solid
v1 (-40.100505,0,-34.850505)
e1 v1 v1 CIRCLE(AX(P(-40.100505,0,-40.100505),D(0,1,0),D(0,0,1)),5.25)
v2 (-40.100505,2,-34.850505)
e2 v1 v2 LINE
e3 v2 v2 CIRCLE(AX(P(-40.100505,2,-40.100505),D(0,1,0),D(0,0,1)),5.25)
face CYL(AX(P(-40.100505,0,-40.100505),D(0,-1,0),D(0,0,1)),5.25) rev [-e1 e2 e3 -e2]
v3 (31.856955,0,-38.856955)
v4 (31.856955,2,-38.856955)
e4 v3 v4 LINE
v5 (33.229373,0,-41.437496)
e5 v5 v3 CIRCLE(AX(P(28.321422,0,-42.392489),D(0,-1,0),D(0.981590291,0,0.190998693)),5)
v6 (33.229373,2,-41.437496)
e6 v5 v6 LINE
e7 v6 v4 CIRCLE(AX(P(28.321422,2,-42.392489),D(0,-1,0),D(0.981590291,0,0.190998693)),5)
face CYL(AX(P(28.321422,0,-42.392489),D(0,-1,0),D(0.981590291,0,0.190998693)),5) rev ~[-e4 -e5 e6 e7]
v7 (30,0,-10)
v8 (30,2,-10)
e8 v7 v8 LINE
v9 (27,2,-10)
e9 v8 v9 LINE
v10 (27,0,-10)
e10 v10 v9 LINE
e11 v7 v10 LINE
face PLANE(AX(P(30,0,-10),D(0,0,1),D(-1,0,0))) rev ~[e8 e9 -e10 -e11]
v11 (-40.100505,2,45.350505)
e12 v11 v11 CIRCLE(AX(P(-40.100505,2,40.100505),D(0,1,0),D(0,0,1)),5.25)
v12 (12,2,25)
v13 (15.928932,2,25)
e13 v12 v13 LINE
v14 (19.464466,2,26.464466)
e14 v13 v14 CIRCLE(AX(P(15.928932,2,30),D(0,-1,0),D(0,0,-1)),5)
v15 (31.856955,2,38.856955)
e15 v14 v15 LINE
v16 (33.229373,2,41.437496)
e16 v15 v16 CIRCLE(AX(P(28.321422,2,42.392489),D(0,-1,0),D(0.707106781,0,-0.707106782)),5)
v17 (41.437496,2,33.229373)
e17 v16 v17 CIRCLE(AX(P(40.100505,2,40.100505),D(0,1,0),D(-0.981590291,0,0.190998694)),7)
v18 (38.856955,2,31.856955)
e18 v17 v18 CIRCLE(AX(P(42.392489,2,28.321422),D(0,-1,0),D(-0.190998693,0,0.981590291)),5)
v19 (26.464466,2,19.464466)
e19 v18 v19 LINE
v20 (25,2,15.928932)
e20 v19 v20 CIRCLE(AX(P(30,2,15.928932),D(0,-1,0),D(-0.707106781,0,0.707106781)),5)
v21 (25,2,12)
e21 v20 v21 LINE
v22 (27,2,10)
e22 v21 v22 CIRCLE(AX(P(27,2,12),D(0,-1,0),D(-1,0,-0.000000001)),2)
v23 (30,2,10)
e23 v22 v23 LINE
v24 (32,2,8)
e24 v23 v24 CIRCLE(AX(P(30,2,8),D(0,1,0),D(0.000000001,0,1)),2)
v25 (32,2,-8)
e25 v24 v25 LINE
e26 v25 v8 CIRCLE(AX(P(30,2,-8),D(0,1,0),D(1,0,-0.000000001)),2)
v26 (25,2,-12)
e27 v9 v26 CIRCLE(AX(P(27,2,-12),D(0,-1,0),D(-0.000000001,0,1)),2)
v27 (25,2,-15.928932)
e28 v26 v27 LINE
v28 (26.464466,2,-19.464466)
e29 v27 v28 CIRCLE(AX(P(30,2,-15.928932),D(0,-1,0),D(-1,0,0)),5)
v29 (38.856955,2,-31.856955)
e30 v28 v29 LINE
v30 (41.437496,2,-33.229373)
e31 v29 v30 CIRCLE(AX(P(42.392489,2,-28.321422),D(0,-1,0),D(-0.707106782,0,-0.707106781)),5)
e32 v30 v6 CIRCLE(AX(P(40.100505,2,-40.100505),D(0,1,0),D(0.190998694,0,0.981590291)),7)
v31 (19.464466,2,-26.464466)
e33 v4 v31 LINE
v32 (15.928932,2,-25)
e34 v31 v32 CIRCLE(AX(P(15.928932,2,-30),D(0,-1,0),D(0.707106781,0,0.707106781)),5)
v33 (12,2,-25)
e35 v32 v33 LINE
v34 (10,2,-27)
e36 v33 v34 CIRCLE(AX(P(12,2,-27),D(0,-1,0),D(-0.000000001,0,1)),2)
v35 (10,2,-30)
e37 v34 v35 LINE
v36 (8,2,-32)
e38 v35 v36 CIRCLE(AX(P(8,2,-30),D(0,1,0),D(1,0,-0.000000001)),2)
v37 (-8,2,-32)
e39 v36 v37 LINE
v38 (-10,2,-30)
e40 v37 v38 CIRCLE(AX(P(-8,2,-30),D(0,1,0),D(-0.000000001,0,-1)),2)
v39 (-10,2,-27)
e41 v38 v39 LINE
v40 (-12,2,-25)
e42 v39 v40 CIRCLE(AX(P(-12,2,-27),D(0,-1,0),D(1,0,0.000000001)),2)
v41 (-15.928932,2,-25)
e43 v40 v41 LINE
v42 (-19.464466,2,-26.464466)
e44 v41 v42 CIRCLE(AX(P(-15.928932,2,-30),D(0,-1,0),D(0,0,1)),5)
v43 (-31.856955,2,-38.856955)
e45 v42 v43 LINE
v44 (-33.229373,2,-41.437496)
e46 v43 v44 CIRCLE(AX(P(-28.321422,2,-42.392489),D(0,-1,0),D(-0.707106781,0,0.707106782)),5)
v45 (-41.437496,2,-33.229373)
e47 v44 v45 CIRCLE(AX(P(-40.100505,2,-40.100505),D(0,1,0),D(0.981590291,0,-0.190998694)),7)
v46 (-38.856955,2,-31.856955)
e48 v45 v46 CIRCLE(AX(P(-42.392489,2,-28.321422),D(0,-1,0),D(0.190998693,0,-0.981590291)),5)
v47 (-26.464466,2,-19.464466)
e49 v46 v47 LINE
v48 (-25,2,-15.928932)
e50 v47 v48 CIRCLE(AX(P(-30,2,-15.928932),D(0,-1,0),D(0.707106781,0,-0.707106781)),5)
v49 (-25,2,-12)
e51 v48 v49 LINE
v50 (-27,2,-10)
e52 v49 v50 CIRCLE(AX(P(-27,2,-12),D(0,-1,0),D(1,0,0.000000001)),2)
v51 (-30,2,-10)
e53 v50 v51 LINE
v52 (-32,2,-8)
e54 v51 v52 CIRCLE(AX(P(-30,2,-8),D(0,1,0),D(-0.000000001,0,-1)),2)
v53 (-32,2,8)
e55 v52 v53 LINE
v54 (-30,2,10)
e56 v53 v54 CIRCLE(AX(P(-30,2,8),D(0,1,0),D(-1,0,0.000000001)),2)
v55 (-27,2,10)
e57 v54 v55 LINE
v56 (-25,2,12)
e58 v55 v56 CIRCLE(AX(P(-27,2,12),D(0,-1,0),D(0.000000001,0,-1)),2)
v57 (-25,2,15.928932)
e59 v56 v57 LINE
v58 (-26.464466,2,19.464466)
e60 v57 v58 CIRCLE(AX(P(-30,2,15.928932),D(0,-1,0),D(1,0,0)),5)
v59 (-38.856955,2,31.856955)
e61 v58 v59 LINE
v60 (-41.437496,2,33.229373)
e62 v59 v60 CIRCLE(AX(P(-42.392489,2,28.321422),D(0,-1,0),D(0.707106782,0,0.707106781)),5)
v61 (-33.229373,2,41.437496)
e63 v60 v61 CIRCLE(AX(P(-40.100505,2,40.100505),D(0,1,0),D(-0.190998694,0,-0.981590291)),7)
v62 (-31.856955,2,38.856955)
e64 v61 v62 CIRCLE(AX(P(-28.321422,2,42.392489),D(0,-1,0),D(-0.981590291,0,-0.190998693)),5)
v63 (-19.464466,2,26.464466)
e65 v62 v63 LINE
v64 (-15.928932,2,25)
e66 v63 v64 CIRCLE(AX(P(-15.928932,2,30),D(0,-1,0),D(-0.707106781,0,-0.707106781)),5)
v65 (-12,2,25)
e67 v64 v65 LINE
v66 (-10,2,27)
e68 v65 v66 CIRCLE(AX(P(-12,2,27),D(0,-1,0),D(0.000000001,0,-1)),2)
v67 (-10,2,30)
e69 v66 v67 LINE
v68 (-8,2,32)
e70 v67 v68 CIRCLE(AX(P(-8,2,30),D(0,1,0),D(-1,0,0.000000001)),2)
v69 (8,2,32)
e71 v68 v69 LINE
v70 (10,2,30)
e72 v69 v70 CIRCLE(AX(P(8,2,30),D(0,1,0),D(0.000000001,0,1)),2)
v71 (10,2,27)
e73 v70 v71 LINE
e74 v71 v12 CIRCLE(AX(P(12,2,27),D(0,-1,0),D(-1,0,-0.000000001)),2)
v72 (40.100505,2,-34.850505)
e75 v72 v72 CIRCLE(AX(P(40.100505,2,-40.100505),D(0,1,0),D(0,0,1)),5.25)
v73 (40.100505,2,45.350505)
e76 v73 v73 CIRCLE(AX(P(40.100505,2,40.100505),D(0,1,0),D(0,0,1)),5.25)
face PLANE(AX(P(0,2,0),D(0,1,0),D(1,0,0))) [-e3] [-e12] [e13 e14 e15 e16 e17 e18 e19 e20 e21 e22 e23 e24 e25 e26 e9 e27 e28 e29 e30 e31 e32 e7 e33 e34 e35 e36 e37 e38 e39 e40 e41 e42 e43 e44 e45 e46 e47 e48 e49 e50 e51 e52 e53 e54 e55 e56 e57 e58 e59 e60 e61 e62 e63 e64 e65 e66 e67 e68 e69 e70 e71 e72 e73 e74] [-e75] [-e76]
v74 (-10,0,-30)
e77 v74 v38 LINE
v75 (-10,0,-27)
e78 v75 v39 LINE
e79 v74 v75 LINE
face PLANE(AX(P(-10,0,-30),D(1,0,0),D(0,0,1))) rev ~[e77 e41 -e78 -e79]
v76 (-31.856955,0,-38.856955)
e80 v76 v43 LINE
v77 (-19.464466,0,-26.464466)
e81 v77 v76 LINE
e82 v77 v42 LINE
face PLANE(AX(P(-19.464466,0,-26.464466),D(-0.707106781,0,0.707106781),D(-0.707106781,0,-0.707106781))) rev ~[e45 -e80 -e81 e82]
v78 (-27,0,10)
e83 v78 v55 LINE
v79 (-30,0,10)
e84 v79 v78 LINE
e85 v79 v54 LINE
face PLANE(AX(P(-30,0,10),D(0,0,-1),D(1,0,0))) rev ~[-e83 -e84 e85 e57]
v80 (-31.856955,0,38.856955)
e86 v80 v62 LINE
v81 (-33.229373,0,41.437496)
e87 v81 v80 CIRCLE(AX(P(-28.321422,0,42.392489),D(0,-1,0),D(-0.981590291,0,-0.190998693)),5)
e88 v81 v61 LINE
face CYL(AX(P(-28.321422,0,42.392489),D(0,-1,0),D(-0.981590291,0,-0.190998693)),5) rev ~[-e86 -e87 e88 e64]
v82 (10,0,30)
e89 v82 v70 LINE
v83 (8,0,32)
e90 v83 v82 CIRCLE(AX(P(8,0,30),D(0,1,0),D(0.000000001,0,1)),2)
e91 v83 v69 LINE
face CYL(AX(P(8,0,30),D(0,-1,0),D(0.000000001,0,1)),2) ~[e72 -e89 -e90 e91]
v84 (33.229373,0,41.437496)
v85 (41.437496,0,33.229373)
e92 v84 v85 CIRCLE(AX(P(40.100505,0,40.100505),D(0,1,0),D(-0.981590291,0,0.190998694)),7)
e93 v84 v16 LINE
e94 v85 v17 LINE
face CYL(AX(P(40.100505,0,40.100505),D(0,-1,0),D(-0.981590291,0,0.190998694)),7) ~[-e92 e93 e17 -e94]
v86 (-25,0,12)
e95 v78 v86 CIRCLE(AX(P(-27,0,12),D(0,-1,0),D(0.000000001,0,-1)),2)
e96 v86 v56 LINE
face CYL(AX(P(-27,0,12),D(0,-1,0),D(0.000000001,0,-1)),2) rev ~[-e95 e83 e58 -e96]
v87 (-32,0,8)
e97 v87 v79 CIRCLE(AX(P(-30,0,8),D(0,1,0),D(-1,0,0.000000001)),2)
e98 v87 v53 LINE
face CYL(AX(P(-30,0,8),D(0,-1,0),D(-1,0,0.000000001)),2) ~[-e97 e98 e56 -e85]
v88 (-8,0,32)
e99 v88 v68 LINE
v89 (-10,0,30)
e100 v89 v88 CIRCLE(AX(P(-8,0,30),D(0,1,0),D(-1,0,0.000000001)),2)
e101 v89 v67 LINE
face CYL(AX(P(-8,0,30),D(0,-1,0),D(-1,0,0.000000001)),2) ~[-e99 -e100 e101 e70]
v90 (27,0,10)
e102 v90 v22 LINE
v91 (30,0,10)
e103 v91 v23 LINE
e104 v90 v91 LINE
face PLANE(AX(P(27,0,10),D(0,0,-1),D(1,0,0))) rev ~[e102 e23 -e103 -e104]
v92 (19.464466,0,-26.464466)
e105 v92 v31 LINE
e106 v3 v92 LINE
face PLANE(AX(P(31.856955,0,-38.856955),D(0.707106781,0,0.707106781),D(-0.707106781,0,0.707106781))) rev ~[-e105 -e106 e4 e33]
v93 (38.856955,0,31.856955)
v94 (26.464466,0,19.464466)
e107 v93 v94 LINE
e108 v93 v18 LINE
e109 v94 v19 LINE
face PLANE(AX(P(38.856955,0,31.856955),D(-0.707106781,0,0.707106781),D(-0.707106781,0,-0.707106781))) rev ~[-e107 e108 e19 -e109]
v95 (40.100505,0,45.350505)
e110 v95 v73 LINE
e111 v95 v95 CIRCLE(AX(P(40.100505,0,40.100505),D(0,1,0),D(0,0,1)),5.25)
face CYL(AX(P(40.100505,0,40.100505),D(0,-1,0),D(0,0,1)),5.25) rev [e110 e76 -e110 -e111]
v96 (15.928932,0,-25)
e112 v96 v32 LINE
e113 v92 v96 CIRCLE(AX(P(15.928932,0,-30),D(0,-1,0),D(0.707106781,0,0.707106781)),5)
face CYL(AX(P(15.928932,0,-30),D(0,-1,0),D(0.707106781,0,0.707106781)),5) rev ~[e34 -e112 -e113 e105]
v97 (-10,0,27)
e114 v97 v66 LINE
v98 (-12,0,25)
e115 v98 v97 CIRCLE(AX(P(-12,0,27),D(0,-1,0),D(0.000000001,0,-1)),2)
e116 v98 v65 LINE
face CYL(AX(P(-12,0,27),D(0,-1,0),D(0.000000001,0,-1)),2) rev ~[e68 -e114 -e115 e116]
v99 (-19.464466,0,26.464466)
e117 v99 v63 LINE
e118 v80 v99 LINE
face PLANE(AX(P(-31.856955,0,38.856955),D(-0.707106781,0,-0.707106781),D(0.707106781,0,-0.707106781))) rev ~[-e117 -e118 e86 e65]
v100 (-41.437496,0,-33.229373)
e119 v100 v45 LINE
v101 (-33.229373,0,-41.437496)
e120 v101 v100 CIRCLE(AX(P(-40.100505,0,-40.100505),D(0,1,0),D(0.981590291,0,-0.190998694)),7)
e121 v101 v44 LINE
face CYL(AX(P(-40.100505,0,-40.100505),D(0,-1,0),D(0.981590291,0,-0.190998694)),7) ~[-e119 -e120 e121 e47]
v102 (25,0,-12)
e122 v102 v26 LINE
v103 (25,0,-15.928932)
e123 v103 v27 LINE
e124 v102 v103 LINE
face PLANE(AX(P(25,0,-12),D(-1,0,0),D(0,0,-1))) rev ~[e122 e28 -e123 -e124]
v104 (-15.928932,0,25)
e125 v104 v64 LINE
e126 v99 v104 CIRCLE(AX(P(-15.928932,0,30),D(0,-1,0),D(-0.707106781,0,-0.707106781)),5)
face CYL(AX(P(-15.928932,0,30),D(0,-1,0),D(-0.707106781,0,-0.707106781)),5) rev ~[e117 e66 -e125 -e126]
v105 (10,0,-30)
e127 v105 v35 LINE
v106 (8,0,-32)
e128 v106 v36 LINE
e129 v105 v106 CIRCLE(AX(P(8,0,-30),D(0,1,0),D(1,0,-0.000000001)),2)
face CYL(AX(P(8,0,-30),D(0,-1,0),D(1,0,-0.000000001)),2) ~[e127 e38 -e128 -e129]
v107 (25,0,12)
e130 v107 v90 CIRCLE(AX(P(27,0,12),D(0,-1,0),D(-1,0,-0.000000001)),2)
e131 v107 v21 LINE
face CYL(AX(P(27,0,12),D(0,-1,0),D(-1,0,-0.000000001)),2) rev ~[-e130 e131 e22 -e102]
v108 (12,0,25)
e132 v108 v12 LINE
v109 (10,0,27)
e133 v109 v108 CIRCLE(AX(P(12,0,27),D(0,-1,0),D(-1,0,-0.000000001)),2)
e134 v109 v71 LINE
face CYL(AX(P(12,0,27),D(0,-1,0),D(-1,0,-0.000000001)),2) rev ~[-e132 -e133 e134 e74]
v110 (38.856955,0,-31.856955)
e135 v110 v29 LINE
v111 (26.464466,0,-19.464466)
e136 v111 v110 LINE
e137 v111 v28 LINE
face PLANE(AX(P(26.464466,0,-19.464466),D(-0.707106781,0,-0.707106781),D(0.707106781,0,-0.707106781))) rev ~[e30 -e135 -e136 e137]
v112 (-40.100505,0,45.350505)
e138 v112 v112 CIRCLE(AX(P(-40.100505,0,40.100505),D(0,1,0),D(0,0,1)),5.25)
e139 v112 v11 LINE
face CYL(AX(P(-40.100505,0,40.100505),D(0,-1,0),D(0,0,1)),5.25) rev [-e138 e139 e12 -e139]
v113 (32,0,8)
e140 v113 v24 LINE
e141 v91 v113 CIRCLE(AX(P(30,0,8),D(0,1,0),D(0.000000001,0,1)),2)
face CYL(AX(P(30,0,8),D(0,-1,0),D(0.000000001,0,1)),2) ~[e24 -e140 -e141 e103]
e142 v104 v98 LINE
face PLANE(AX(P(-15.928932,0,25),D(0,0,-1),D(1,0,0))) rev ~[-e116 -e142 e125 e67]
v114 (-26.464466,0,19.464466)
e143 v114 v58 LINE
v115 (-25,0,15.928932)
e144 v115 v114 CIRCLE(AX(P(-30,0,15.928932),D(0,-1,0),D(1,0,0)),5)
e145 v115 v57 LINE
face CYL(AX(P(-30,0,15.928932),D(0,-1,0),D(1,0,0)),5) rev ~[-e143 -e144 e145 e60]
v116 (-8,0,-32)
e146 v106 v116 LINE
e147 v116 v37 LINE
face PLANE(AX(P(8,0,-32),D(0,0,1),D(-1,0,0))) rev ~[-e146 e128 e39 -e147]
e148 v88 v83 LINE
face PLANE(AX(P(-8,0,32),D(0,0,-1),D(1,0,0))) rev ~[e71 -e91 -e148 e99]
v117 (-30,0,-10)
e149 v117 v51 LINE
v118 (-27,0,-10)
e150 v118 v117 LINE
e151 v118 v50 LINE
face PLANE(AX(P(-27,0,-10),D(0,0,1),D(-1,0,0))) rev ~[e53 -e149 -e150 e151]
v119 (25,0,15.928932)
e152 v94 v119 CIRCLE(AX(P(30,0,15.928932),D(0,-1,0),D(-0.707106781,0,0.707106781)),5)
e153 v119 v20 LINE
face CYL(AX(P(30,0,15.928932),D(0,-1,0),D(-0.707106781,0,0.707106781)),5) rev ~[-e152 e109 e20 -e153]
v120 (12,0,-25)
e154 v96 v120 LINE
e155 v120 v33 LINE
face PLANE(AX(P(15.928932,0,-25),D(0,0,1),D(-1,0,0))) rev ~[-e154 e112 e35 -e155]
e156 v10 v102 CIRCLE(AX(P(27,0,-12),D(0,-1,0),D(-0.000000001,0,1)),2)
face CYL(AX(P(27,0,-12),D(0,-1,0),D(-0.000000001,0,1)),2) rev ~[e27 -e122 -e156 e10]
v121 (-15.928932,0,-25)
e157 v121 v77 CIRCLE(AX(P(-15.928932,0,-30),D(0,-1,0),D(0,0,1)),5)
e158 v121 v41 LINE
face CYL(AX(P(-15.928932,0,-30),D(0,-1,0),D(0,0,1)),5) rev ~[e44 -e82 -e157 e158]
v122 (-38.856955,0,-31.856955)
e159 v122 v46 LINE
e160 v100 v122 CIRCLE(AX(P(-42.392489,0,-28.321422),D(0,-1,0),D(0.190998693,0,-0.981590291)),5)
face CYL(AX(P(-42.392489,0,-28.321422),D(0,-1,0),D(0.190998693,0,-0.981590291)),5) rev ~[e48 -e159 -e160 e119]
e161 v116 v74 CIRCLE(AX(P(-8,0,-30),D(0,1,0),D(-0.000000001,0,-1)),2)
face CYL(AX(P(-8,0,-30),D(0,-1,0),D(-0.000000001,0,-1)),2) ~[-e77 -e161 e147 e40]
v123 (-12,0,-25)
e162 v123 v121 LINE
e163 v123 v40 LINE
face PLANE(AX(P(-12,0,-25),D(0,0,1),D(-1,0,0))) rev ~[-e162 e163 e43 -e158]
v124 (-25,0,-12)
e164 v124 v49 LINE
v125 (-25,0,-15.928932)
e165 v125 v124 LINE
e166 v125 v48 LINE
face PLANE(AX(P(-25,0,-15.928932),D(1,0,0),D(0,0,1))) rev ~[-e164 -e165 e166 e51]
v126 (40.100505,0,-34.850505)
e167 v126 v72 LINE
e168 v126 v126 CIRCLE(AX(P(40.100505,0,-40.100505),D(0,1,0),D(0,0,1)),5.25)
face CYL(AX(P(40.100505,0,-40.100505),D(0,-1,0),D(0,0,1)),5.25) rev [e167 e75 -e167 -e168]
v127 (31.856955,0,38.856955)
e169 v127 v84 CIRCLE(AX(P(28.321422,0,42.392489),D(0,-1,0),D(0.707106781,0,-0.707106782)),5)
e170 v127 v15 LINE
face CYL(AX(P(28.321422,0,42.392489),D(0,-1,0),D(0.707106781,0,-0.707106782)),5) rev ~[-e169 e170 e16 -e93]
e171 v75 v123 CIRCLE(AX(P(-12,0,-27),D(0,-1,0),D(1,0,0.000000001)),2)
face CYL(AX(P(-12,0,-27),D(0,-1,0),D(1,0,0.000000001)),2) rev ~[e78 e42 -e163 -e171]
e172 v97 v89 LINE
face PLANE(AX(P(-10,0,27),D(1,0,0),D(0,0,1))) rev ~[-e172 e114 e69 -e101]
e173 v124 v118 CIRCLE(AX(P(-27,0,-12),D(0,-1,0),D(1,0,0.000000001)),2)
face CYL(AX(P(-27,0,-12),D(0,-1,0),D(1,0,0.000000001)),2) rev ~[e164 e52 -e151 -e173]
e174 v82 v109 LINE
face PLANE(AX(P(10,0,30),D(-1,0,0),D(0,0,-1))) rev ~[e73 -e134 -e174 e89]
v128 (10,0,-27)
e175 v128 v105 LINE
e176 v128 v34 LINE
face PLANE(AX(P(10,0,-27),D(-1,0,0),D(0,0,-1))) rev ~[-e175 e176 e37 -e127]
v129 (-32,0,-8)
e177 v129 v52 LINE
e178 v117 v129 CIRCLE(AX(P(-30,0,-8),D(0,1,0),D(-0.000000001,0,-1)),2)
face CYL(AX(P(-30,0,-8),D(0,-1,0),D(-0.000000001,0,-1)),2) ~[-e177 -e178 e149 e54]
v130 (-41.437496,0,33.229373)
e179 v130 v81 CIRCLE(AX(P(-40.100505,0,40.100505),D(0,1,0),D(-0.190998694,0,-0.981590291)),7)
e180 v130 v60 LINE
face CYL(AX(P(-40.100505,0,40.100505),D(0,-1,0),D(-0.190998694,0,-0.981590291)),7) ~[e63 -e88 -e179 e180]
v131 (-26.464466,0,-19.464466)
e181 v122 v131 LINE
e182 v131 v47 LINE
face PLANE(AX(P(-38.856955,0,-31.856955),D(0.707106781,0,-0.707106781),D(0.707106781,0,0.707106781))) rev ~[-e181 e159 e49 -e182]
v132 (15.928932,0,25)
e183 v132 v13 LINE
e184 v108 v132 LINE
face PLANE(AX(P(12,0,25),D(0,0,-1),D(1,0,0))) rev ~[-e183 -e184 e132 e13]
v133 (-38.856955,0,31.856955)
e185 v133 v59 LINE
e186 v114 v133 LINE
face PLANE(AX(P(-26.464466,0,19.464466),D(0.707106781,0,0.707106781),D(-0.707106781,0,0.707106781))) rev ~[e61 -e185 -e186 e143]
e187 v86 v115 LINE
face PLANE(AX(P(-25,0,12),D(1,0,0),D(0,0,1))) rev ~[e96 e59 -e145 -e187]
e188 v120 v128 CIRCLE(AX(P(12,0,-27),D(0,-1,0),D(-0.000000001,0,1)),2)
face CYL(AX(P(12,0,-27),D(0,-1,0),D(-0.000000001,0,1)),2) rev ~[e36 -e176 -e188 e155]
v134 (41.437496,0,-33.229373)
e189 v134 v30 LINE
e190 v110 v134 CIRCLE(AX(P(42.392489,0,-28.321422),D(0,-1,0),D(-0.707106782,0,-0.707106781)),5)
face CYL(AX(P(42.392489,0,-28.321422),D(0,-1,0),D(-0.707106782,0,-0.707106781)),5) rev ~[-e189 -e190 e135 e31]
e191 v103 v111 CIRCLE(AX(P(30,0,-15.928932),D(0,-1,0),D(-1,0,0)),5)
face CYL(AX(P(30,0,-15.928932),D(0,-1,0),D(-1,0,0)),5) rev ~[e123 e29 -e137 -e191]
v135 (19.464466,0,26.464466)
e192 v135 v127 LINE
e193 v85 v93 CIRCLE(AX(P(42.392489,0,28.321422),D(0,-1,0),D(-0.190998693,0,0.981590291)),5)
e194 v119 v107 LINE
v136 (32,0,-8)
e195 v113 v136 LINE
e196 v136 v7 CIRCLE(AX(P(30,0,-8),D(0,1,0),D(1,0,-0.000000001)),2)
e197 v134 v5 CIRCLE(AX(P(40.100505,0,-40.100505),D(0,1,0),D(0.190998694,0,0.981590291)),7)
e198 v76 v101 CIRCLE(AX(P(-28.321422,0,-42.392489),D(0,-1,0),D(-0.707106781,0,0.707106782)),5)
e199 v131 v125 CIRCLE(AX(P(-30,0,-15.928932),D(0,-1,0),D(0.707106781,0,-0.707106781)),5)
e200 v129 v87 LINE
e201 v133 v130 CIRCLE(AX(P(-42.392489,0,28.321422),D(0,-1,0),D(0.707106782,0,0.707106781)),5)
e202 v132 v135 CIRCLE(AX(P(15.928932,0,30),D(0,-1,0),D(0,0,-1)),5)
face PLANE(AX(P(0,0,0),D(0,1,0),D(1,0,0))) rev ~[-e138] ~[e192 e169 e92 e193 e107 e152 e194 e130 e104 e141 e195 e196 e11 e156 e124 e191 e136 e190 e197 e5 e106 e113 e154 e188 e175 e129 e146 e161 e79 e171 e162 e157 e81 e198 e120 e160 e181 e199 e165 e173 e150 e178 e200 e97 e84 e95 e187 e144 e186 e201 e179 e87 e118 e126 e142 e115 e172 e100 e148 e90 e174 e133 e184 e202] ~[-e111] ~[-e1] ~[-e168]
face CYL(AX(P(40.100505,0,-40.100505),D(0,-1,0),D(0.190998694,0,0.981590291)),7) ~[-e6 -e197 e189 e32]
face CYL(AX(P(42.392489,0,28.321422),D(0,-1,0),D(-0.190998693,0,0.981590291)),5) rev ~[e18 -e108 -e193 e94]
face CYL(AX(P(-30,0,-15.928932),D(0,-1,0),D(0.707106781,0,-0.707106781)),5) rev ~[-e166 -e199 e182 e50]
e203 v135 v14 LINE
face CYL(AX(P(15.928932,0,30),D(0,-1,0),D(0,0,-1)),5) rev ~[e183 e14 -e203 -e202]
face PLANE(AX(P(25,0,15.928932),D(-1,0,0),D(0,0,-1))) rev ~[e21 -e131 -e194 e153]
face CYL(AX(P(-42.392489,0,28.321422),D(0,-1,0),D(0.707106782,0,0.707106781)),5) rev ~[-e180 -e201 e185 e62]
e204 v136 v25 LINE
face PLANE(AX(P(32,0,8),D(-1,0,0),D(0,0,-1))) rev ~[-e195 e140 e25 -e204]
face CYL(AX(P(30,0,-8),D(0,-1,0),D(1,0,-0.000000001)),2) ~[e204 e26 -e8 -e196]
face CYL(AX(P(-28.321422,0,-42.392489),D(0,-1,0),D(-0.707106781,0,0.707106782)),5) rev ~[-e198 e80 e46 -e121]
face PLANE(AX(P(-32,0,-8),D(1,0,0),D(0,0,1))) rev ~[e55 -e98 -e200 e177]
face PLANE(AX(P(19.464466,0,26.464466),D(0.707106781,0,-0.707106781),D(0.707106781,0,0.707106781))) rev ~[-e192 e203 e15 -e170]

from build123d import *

# Parameters (mm, degrees)
SKETCH_1_R      = 5.25
EXTRUDE_1_DEPTH = 2


with BuildPart() as part:
    # 草图1 → 凸台-拉伸1 (new body)
    with BuildSketch(Plane(origin=(0, 0, 0), x_dir=(1, 0, 0), z_dir=(0, 1, 0))):
        with BuildLine():
            Line((-15.928932188, -25), (-12, -25))
            ThreePointArc((-12, -25), (-10.585786438, -25.585786438), (-10, -27))
            Line((-10, -27), (-10, -30))
            ThreePointArc((-10, -30), (-9.414213562, -31.414213562), (-8, -32))
            Line((-8, -32), (8, -32))
            ThreePointArc((8, -32), (9.414213562, -31.414213562), (10, -30))
            Line((10, -30), (10, -27))
            ThreePointArc((10, -27), (10.585786438, -25.585786438), (12, -25))
            Line((12, -25), (15.928932188, -25))
            ThreePointArc((15.928932188, -25), (17.84234935, -25.380602337), (19.464466094, -26.464466094))
            Line((19.464466094, -26.464466094), (31.856955479, -38.856955479))
            ThreePointArc((31.856955479, -38.856955479), (32.735932701, -40.044705003), (33.229373027, -41.437495918))
            ThreePointArc((33.229373027, -41.437495918), (45.050252532, -45.050252532), (41.437495918, -33.229373027))
            ThreePointArc((41.437495918, -33.229373027), (40.044705003, -32.735932701), (38.856955479, -31.856955479))
            Line((38.856955479, -31.856955479), (26.464466094, -19.464466094))
            ThreePointArc((26.464466094, -19.464466094), (25.380602337, -17.84234935), (25, -15.928932188))
            Line((25, -15.928932188), (25, -12))
            ThreePointArc((25, -12), (25.585786438, -10.585786438), (27, -10))
            Line((27, -10), (30, -10))
            ThreePointArc((30, -10), (31.414213562, -9.414213562), (32, -8))
            Line((32, -8), (32, 8))
            ThreePointArc((32, 8), (31.414213562, 9.414213562), (30, 10))
            Line((30, 10), (27, 10))
            ThreePointArc((27, 10), (25.585786438, 10.585786438), (25, 12))
            Line((25, 12), (25, 15.928932188))
            ThreePointArc((25, 15.928932188), (25.380602337, 17.84234935), (26.464466094, 19.464466094))
            Line((26.464466094, 19.464466094), (38.856955479, 31.856955479))
            ThreePointArc((38.856955479, 31.856955479), (40.044705003, 32.735932701), (41.437495918, 33.229373027))
            ThreePointArc((41.437495918, 33.229373027), (45.050252532, 45.050252532), (33.229373027, 41.437495918))
            ThreePointArc((33.229373027, 41.437495918), (32.735932701, 40.044705003), (31.856955479, 38.856955479))
            Line((31.856955479, 38.856955479), (19.464466094, 26.464466094))
            ThreePointArc((19.464466094, 26.464466094), (17.84234935, 25.380602337), (15.928932188, 25))
            Line((15.928932188, 25), (12, 25))
            ThreePointArc((12, 25), (10.585786438, 25.585786438), (10, 27))
            Line((10, 27), (10, 30))
            ThreePointArc((10, 30), (9.414213562, 31.414213562), (8, 32))
            Line((8, 32), (-8, 32))
            ThreePointArc((-8, 32), (-9.414213562, 31.414213562), (-10, 30))
            Line((-10, 30), (-10, 27))
            ThreePointArc((-10, 27), (-10.585786438, 25.585786438), (-12, 25))
            Line((-12, 25), (-15.928932188, 25))
            ThreePointArc((-15.928932188, 25), (-17.84234935, 25.380602337), (-19.464466094, 26.464466094))
            Line((-19.464466094, 26.464466094), (-31.856955479, 38.856955479))
            ThreePointArc((-31.856955479, 38.856955479), (-32.735932701, 40.044705003), (-33.229373027, 41.437495918))
            ThreePointArc((-33.229373027, 41.437495918), (-45.050252532, 45.050252532), (-41.437495918, 33.229373027))
            ThreePointArc((-41.437495918, 33.229373027), (-40.044705003, 32.735932701), (-38.856955479, 31.856955479))
            Line((-38.856955479, 31.856955479), (-26.464466094, 19.464466094))
            ThreePointArc((-26.464466094, 19.464466094), (-25.380602337, 17.84234935), (-25, 15.928932188))
            Line((-25, 15.928932188), (-25, 12))
            ThreePointArc((-25, 12), (-25.585786438, 10.585786438), (-27, 10))
            Line((-27, 10), (-30, 10))
            ThreePointArc((-30, 10), (-31.414213562, 9.414213562), (-32, 8))
            Line((-32, 8), (-32, -8))
            ThreePointArc((-32, -8), (-31.414213562, -9.414213562), (-30, -10))
            Line((-30, -10), (-27, -10))
            ThreePointArc((-27, -10), (-25.585786438, -10.585786438), (-25, -12))
            Line((-25, -12), (-25, -15.928932188))
            ThreePointArc((-25, -15.928932188), (-25.380602337, -17.84234935), (-26.464466094, -19.464466094))
            Line((-26.464466094, -19.464466094), (-38.856955479, -31.856955479))
            ThreePointArc((-38.856955479, -31.856955479), (-40.044705003, -32.735932701), (-41.437495918, -33.229373027))
            ThreePointArc((-41.437495918, -33.229373027), (-45.050252532, -45.050252532), (-33.229373027, -41.437495918))
            ThreePointArc((-33.229373027, -41.437495918), (-32.735932701, -40.044705003), (-31.856955479, -38.856955479))
            Line((-31.856955479, -38.856955479), (-19.464466094, -26.464466094))
            ThreePointArc((-19.464466094, -26.464466094), (-17.84234935, -25.380602337), (-15.928932188, -25))
        make_face()
        with Locations(Location((-40.100505063, 40.100505063, 0), (0, 0, 270))):
            Circle(SKETCH_1_R, mode=Mode.SUBTRACT)
        with Locations(Location((40.100505063, 40.100505063, 0), (0, 0, 270))):
            Circle(SKETCH_1_R, mode=Mode.SUBTRACT)
        with Locations(Location((40.100505063, -40.100505063, 0), (0, 0, 270))):
            Circle(SKETCH_1_R, mode=Mode.SUBTRACT)
        with Locations(Location((-40.100505063, -40.100505063, 0), (0, 0, 270))):
            Circle(SKETCH_1_R, mode=Mode.SUBTRACT)
    extrude(amount=EXTRUDE_1_DEPTH)


solid = part.part
